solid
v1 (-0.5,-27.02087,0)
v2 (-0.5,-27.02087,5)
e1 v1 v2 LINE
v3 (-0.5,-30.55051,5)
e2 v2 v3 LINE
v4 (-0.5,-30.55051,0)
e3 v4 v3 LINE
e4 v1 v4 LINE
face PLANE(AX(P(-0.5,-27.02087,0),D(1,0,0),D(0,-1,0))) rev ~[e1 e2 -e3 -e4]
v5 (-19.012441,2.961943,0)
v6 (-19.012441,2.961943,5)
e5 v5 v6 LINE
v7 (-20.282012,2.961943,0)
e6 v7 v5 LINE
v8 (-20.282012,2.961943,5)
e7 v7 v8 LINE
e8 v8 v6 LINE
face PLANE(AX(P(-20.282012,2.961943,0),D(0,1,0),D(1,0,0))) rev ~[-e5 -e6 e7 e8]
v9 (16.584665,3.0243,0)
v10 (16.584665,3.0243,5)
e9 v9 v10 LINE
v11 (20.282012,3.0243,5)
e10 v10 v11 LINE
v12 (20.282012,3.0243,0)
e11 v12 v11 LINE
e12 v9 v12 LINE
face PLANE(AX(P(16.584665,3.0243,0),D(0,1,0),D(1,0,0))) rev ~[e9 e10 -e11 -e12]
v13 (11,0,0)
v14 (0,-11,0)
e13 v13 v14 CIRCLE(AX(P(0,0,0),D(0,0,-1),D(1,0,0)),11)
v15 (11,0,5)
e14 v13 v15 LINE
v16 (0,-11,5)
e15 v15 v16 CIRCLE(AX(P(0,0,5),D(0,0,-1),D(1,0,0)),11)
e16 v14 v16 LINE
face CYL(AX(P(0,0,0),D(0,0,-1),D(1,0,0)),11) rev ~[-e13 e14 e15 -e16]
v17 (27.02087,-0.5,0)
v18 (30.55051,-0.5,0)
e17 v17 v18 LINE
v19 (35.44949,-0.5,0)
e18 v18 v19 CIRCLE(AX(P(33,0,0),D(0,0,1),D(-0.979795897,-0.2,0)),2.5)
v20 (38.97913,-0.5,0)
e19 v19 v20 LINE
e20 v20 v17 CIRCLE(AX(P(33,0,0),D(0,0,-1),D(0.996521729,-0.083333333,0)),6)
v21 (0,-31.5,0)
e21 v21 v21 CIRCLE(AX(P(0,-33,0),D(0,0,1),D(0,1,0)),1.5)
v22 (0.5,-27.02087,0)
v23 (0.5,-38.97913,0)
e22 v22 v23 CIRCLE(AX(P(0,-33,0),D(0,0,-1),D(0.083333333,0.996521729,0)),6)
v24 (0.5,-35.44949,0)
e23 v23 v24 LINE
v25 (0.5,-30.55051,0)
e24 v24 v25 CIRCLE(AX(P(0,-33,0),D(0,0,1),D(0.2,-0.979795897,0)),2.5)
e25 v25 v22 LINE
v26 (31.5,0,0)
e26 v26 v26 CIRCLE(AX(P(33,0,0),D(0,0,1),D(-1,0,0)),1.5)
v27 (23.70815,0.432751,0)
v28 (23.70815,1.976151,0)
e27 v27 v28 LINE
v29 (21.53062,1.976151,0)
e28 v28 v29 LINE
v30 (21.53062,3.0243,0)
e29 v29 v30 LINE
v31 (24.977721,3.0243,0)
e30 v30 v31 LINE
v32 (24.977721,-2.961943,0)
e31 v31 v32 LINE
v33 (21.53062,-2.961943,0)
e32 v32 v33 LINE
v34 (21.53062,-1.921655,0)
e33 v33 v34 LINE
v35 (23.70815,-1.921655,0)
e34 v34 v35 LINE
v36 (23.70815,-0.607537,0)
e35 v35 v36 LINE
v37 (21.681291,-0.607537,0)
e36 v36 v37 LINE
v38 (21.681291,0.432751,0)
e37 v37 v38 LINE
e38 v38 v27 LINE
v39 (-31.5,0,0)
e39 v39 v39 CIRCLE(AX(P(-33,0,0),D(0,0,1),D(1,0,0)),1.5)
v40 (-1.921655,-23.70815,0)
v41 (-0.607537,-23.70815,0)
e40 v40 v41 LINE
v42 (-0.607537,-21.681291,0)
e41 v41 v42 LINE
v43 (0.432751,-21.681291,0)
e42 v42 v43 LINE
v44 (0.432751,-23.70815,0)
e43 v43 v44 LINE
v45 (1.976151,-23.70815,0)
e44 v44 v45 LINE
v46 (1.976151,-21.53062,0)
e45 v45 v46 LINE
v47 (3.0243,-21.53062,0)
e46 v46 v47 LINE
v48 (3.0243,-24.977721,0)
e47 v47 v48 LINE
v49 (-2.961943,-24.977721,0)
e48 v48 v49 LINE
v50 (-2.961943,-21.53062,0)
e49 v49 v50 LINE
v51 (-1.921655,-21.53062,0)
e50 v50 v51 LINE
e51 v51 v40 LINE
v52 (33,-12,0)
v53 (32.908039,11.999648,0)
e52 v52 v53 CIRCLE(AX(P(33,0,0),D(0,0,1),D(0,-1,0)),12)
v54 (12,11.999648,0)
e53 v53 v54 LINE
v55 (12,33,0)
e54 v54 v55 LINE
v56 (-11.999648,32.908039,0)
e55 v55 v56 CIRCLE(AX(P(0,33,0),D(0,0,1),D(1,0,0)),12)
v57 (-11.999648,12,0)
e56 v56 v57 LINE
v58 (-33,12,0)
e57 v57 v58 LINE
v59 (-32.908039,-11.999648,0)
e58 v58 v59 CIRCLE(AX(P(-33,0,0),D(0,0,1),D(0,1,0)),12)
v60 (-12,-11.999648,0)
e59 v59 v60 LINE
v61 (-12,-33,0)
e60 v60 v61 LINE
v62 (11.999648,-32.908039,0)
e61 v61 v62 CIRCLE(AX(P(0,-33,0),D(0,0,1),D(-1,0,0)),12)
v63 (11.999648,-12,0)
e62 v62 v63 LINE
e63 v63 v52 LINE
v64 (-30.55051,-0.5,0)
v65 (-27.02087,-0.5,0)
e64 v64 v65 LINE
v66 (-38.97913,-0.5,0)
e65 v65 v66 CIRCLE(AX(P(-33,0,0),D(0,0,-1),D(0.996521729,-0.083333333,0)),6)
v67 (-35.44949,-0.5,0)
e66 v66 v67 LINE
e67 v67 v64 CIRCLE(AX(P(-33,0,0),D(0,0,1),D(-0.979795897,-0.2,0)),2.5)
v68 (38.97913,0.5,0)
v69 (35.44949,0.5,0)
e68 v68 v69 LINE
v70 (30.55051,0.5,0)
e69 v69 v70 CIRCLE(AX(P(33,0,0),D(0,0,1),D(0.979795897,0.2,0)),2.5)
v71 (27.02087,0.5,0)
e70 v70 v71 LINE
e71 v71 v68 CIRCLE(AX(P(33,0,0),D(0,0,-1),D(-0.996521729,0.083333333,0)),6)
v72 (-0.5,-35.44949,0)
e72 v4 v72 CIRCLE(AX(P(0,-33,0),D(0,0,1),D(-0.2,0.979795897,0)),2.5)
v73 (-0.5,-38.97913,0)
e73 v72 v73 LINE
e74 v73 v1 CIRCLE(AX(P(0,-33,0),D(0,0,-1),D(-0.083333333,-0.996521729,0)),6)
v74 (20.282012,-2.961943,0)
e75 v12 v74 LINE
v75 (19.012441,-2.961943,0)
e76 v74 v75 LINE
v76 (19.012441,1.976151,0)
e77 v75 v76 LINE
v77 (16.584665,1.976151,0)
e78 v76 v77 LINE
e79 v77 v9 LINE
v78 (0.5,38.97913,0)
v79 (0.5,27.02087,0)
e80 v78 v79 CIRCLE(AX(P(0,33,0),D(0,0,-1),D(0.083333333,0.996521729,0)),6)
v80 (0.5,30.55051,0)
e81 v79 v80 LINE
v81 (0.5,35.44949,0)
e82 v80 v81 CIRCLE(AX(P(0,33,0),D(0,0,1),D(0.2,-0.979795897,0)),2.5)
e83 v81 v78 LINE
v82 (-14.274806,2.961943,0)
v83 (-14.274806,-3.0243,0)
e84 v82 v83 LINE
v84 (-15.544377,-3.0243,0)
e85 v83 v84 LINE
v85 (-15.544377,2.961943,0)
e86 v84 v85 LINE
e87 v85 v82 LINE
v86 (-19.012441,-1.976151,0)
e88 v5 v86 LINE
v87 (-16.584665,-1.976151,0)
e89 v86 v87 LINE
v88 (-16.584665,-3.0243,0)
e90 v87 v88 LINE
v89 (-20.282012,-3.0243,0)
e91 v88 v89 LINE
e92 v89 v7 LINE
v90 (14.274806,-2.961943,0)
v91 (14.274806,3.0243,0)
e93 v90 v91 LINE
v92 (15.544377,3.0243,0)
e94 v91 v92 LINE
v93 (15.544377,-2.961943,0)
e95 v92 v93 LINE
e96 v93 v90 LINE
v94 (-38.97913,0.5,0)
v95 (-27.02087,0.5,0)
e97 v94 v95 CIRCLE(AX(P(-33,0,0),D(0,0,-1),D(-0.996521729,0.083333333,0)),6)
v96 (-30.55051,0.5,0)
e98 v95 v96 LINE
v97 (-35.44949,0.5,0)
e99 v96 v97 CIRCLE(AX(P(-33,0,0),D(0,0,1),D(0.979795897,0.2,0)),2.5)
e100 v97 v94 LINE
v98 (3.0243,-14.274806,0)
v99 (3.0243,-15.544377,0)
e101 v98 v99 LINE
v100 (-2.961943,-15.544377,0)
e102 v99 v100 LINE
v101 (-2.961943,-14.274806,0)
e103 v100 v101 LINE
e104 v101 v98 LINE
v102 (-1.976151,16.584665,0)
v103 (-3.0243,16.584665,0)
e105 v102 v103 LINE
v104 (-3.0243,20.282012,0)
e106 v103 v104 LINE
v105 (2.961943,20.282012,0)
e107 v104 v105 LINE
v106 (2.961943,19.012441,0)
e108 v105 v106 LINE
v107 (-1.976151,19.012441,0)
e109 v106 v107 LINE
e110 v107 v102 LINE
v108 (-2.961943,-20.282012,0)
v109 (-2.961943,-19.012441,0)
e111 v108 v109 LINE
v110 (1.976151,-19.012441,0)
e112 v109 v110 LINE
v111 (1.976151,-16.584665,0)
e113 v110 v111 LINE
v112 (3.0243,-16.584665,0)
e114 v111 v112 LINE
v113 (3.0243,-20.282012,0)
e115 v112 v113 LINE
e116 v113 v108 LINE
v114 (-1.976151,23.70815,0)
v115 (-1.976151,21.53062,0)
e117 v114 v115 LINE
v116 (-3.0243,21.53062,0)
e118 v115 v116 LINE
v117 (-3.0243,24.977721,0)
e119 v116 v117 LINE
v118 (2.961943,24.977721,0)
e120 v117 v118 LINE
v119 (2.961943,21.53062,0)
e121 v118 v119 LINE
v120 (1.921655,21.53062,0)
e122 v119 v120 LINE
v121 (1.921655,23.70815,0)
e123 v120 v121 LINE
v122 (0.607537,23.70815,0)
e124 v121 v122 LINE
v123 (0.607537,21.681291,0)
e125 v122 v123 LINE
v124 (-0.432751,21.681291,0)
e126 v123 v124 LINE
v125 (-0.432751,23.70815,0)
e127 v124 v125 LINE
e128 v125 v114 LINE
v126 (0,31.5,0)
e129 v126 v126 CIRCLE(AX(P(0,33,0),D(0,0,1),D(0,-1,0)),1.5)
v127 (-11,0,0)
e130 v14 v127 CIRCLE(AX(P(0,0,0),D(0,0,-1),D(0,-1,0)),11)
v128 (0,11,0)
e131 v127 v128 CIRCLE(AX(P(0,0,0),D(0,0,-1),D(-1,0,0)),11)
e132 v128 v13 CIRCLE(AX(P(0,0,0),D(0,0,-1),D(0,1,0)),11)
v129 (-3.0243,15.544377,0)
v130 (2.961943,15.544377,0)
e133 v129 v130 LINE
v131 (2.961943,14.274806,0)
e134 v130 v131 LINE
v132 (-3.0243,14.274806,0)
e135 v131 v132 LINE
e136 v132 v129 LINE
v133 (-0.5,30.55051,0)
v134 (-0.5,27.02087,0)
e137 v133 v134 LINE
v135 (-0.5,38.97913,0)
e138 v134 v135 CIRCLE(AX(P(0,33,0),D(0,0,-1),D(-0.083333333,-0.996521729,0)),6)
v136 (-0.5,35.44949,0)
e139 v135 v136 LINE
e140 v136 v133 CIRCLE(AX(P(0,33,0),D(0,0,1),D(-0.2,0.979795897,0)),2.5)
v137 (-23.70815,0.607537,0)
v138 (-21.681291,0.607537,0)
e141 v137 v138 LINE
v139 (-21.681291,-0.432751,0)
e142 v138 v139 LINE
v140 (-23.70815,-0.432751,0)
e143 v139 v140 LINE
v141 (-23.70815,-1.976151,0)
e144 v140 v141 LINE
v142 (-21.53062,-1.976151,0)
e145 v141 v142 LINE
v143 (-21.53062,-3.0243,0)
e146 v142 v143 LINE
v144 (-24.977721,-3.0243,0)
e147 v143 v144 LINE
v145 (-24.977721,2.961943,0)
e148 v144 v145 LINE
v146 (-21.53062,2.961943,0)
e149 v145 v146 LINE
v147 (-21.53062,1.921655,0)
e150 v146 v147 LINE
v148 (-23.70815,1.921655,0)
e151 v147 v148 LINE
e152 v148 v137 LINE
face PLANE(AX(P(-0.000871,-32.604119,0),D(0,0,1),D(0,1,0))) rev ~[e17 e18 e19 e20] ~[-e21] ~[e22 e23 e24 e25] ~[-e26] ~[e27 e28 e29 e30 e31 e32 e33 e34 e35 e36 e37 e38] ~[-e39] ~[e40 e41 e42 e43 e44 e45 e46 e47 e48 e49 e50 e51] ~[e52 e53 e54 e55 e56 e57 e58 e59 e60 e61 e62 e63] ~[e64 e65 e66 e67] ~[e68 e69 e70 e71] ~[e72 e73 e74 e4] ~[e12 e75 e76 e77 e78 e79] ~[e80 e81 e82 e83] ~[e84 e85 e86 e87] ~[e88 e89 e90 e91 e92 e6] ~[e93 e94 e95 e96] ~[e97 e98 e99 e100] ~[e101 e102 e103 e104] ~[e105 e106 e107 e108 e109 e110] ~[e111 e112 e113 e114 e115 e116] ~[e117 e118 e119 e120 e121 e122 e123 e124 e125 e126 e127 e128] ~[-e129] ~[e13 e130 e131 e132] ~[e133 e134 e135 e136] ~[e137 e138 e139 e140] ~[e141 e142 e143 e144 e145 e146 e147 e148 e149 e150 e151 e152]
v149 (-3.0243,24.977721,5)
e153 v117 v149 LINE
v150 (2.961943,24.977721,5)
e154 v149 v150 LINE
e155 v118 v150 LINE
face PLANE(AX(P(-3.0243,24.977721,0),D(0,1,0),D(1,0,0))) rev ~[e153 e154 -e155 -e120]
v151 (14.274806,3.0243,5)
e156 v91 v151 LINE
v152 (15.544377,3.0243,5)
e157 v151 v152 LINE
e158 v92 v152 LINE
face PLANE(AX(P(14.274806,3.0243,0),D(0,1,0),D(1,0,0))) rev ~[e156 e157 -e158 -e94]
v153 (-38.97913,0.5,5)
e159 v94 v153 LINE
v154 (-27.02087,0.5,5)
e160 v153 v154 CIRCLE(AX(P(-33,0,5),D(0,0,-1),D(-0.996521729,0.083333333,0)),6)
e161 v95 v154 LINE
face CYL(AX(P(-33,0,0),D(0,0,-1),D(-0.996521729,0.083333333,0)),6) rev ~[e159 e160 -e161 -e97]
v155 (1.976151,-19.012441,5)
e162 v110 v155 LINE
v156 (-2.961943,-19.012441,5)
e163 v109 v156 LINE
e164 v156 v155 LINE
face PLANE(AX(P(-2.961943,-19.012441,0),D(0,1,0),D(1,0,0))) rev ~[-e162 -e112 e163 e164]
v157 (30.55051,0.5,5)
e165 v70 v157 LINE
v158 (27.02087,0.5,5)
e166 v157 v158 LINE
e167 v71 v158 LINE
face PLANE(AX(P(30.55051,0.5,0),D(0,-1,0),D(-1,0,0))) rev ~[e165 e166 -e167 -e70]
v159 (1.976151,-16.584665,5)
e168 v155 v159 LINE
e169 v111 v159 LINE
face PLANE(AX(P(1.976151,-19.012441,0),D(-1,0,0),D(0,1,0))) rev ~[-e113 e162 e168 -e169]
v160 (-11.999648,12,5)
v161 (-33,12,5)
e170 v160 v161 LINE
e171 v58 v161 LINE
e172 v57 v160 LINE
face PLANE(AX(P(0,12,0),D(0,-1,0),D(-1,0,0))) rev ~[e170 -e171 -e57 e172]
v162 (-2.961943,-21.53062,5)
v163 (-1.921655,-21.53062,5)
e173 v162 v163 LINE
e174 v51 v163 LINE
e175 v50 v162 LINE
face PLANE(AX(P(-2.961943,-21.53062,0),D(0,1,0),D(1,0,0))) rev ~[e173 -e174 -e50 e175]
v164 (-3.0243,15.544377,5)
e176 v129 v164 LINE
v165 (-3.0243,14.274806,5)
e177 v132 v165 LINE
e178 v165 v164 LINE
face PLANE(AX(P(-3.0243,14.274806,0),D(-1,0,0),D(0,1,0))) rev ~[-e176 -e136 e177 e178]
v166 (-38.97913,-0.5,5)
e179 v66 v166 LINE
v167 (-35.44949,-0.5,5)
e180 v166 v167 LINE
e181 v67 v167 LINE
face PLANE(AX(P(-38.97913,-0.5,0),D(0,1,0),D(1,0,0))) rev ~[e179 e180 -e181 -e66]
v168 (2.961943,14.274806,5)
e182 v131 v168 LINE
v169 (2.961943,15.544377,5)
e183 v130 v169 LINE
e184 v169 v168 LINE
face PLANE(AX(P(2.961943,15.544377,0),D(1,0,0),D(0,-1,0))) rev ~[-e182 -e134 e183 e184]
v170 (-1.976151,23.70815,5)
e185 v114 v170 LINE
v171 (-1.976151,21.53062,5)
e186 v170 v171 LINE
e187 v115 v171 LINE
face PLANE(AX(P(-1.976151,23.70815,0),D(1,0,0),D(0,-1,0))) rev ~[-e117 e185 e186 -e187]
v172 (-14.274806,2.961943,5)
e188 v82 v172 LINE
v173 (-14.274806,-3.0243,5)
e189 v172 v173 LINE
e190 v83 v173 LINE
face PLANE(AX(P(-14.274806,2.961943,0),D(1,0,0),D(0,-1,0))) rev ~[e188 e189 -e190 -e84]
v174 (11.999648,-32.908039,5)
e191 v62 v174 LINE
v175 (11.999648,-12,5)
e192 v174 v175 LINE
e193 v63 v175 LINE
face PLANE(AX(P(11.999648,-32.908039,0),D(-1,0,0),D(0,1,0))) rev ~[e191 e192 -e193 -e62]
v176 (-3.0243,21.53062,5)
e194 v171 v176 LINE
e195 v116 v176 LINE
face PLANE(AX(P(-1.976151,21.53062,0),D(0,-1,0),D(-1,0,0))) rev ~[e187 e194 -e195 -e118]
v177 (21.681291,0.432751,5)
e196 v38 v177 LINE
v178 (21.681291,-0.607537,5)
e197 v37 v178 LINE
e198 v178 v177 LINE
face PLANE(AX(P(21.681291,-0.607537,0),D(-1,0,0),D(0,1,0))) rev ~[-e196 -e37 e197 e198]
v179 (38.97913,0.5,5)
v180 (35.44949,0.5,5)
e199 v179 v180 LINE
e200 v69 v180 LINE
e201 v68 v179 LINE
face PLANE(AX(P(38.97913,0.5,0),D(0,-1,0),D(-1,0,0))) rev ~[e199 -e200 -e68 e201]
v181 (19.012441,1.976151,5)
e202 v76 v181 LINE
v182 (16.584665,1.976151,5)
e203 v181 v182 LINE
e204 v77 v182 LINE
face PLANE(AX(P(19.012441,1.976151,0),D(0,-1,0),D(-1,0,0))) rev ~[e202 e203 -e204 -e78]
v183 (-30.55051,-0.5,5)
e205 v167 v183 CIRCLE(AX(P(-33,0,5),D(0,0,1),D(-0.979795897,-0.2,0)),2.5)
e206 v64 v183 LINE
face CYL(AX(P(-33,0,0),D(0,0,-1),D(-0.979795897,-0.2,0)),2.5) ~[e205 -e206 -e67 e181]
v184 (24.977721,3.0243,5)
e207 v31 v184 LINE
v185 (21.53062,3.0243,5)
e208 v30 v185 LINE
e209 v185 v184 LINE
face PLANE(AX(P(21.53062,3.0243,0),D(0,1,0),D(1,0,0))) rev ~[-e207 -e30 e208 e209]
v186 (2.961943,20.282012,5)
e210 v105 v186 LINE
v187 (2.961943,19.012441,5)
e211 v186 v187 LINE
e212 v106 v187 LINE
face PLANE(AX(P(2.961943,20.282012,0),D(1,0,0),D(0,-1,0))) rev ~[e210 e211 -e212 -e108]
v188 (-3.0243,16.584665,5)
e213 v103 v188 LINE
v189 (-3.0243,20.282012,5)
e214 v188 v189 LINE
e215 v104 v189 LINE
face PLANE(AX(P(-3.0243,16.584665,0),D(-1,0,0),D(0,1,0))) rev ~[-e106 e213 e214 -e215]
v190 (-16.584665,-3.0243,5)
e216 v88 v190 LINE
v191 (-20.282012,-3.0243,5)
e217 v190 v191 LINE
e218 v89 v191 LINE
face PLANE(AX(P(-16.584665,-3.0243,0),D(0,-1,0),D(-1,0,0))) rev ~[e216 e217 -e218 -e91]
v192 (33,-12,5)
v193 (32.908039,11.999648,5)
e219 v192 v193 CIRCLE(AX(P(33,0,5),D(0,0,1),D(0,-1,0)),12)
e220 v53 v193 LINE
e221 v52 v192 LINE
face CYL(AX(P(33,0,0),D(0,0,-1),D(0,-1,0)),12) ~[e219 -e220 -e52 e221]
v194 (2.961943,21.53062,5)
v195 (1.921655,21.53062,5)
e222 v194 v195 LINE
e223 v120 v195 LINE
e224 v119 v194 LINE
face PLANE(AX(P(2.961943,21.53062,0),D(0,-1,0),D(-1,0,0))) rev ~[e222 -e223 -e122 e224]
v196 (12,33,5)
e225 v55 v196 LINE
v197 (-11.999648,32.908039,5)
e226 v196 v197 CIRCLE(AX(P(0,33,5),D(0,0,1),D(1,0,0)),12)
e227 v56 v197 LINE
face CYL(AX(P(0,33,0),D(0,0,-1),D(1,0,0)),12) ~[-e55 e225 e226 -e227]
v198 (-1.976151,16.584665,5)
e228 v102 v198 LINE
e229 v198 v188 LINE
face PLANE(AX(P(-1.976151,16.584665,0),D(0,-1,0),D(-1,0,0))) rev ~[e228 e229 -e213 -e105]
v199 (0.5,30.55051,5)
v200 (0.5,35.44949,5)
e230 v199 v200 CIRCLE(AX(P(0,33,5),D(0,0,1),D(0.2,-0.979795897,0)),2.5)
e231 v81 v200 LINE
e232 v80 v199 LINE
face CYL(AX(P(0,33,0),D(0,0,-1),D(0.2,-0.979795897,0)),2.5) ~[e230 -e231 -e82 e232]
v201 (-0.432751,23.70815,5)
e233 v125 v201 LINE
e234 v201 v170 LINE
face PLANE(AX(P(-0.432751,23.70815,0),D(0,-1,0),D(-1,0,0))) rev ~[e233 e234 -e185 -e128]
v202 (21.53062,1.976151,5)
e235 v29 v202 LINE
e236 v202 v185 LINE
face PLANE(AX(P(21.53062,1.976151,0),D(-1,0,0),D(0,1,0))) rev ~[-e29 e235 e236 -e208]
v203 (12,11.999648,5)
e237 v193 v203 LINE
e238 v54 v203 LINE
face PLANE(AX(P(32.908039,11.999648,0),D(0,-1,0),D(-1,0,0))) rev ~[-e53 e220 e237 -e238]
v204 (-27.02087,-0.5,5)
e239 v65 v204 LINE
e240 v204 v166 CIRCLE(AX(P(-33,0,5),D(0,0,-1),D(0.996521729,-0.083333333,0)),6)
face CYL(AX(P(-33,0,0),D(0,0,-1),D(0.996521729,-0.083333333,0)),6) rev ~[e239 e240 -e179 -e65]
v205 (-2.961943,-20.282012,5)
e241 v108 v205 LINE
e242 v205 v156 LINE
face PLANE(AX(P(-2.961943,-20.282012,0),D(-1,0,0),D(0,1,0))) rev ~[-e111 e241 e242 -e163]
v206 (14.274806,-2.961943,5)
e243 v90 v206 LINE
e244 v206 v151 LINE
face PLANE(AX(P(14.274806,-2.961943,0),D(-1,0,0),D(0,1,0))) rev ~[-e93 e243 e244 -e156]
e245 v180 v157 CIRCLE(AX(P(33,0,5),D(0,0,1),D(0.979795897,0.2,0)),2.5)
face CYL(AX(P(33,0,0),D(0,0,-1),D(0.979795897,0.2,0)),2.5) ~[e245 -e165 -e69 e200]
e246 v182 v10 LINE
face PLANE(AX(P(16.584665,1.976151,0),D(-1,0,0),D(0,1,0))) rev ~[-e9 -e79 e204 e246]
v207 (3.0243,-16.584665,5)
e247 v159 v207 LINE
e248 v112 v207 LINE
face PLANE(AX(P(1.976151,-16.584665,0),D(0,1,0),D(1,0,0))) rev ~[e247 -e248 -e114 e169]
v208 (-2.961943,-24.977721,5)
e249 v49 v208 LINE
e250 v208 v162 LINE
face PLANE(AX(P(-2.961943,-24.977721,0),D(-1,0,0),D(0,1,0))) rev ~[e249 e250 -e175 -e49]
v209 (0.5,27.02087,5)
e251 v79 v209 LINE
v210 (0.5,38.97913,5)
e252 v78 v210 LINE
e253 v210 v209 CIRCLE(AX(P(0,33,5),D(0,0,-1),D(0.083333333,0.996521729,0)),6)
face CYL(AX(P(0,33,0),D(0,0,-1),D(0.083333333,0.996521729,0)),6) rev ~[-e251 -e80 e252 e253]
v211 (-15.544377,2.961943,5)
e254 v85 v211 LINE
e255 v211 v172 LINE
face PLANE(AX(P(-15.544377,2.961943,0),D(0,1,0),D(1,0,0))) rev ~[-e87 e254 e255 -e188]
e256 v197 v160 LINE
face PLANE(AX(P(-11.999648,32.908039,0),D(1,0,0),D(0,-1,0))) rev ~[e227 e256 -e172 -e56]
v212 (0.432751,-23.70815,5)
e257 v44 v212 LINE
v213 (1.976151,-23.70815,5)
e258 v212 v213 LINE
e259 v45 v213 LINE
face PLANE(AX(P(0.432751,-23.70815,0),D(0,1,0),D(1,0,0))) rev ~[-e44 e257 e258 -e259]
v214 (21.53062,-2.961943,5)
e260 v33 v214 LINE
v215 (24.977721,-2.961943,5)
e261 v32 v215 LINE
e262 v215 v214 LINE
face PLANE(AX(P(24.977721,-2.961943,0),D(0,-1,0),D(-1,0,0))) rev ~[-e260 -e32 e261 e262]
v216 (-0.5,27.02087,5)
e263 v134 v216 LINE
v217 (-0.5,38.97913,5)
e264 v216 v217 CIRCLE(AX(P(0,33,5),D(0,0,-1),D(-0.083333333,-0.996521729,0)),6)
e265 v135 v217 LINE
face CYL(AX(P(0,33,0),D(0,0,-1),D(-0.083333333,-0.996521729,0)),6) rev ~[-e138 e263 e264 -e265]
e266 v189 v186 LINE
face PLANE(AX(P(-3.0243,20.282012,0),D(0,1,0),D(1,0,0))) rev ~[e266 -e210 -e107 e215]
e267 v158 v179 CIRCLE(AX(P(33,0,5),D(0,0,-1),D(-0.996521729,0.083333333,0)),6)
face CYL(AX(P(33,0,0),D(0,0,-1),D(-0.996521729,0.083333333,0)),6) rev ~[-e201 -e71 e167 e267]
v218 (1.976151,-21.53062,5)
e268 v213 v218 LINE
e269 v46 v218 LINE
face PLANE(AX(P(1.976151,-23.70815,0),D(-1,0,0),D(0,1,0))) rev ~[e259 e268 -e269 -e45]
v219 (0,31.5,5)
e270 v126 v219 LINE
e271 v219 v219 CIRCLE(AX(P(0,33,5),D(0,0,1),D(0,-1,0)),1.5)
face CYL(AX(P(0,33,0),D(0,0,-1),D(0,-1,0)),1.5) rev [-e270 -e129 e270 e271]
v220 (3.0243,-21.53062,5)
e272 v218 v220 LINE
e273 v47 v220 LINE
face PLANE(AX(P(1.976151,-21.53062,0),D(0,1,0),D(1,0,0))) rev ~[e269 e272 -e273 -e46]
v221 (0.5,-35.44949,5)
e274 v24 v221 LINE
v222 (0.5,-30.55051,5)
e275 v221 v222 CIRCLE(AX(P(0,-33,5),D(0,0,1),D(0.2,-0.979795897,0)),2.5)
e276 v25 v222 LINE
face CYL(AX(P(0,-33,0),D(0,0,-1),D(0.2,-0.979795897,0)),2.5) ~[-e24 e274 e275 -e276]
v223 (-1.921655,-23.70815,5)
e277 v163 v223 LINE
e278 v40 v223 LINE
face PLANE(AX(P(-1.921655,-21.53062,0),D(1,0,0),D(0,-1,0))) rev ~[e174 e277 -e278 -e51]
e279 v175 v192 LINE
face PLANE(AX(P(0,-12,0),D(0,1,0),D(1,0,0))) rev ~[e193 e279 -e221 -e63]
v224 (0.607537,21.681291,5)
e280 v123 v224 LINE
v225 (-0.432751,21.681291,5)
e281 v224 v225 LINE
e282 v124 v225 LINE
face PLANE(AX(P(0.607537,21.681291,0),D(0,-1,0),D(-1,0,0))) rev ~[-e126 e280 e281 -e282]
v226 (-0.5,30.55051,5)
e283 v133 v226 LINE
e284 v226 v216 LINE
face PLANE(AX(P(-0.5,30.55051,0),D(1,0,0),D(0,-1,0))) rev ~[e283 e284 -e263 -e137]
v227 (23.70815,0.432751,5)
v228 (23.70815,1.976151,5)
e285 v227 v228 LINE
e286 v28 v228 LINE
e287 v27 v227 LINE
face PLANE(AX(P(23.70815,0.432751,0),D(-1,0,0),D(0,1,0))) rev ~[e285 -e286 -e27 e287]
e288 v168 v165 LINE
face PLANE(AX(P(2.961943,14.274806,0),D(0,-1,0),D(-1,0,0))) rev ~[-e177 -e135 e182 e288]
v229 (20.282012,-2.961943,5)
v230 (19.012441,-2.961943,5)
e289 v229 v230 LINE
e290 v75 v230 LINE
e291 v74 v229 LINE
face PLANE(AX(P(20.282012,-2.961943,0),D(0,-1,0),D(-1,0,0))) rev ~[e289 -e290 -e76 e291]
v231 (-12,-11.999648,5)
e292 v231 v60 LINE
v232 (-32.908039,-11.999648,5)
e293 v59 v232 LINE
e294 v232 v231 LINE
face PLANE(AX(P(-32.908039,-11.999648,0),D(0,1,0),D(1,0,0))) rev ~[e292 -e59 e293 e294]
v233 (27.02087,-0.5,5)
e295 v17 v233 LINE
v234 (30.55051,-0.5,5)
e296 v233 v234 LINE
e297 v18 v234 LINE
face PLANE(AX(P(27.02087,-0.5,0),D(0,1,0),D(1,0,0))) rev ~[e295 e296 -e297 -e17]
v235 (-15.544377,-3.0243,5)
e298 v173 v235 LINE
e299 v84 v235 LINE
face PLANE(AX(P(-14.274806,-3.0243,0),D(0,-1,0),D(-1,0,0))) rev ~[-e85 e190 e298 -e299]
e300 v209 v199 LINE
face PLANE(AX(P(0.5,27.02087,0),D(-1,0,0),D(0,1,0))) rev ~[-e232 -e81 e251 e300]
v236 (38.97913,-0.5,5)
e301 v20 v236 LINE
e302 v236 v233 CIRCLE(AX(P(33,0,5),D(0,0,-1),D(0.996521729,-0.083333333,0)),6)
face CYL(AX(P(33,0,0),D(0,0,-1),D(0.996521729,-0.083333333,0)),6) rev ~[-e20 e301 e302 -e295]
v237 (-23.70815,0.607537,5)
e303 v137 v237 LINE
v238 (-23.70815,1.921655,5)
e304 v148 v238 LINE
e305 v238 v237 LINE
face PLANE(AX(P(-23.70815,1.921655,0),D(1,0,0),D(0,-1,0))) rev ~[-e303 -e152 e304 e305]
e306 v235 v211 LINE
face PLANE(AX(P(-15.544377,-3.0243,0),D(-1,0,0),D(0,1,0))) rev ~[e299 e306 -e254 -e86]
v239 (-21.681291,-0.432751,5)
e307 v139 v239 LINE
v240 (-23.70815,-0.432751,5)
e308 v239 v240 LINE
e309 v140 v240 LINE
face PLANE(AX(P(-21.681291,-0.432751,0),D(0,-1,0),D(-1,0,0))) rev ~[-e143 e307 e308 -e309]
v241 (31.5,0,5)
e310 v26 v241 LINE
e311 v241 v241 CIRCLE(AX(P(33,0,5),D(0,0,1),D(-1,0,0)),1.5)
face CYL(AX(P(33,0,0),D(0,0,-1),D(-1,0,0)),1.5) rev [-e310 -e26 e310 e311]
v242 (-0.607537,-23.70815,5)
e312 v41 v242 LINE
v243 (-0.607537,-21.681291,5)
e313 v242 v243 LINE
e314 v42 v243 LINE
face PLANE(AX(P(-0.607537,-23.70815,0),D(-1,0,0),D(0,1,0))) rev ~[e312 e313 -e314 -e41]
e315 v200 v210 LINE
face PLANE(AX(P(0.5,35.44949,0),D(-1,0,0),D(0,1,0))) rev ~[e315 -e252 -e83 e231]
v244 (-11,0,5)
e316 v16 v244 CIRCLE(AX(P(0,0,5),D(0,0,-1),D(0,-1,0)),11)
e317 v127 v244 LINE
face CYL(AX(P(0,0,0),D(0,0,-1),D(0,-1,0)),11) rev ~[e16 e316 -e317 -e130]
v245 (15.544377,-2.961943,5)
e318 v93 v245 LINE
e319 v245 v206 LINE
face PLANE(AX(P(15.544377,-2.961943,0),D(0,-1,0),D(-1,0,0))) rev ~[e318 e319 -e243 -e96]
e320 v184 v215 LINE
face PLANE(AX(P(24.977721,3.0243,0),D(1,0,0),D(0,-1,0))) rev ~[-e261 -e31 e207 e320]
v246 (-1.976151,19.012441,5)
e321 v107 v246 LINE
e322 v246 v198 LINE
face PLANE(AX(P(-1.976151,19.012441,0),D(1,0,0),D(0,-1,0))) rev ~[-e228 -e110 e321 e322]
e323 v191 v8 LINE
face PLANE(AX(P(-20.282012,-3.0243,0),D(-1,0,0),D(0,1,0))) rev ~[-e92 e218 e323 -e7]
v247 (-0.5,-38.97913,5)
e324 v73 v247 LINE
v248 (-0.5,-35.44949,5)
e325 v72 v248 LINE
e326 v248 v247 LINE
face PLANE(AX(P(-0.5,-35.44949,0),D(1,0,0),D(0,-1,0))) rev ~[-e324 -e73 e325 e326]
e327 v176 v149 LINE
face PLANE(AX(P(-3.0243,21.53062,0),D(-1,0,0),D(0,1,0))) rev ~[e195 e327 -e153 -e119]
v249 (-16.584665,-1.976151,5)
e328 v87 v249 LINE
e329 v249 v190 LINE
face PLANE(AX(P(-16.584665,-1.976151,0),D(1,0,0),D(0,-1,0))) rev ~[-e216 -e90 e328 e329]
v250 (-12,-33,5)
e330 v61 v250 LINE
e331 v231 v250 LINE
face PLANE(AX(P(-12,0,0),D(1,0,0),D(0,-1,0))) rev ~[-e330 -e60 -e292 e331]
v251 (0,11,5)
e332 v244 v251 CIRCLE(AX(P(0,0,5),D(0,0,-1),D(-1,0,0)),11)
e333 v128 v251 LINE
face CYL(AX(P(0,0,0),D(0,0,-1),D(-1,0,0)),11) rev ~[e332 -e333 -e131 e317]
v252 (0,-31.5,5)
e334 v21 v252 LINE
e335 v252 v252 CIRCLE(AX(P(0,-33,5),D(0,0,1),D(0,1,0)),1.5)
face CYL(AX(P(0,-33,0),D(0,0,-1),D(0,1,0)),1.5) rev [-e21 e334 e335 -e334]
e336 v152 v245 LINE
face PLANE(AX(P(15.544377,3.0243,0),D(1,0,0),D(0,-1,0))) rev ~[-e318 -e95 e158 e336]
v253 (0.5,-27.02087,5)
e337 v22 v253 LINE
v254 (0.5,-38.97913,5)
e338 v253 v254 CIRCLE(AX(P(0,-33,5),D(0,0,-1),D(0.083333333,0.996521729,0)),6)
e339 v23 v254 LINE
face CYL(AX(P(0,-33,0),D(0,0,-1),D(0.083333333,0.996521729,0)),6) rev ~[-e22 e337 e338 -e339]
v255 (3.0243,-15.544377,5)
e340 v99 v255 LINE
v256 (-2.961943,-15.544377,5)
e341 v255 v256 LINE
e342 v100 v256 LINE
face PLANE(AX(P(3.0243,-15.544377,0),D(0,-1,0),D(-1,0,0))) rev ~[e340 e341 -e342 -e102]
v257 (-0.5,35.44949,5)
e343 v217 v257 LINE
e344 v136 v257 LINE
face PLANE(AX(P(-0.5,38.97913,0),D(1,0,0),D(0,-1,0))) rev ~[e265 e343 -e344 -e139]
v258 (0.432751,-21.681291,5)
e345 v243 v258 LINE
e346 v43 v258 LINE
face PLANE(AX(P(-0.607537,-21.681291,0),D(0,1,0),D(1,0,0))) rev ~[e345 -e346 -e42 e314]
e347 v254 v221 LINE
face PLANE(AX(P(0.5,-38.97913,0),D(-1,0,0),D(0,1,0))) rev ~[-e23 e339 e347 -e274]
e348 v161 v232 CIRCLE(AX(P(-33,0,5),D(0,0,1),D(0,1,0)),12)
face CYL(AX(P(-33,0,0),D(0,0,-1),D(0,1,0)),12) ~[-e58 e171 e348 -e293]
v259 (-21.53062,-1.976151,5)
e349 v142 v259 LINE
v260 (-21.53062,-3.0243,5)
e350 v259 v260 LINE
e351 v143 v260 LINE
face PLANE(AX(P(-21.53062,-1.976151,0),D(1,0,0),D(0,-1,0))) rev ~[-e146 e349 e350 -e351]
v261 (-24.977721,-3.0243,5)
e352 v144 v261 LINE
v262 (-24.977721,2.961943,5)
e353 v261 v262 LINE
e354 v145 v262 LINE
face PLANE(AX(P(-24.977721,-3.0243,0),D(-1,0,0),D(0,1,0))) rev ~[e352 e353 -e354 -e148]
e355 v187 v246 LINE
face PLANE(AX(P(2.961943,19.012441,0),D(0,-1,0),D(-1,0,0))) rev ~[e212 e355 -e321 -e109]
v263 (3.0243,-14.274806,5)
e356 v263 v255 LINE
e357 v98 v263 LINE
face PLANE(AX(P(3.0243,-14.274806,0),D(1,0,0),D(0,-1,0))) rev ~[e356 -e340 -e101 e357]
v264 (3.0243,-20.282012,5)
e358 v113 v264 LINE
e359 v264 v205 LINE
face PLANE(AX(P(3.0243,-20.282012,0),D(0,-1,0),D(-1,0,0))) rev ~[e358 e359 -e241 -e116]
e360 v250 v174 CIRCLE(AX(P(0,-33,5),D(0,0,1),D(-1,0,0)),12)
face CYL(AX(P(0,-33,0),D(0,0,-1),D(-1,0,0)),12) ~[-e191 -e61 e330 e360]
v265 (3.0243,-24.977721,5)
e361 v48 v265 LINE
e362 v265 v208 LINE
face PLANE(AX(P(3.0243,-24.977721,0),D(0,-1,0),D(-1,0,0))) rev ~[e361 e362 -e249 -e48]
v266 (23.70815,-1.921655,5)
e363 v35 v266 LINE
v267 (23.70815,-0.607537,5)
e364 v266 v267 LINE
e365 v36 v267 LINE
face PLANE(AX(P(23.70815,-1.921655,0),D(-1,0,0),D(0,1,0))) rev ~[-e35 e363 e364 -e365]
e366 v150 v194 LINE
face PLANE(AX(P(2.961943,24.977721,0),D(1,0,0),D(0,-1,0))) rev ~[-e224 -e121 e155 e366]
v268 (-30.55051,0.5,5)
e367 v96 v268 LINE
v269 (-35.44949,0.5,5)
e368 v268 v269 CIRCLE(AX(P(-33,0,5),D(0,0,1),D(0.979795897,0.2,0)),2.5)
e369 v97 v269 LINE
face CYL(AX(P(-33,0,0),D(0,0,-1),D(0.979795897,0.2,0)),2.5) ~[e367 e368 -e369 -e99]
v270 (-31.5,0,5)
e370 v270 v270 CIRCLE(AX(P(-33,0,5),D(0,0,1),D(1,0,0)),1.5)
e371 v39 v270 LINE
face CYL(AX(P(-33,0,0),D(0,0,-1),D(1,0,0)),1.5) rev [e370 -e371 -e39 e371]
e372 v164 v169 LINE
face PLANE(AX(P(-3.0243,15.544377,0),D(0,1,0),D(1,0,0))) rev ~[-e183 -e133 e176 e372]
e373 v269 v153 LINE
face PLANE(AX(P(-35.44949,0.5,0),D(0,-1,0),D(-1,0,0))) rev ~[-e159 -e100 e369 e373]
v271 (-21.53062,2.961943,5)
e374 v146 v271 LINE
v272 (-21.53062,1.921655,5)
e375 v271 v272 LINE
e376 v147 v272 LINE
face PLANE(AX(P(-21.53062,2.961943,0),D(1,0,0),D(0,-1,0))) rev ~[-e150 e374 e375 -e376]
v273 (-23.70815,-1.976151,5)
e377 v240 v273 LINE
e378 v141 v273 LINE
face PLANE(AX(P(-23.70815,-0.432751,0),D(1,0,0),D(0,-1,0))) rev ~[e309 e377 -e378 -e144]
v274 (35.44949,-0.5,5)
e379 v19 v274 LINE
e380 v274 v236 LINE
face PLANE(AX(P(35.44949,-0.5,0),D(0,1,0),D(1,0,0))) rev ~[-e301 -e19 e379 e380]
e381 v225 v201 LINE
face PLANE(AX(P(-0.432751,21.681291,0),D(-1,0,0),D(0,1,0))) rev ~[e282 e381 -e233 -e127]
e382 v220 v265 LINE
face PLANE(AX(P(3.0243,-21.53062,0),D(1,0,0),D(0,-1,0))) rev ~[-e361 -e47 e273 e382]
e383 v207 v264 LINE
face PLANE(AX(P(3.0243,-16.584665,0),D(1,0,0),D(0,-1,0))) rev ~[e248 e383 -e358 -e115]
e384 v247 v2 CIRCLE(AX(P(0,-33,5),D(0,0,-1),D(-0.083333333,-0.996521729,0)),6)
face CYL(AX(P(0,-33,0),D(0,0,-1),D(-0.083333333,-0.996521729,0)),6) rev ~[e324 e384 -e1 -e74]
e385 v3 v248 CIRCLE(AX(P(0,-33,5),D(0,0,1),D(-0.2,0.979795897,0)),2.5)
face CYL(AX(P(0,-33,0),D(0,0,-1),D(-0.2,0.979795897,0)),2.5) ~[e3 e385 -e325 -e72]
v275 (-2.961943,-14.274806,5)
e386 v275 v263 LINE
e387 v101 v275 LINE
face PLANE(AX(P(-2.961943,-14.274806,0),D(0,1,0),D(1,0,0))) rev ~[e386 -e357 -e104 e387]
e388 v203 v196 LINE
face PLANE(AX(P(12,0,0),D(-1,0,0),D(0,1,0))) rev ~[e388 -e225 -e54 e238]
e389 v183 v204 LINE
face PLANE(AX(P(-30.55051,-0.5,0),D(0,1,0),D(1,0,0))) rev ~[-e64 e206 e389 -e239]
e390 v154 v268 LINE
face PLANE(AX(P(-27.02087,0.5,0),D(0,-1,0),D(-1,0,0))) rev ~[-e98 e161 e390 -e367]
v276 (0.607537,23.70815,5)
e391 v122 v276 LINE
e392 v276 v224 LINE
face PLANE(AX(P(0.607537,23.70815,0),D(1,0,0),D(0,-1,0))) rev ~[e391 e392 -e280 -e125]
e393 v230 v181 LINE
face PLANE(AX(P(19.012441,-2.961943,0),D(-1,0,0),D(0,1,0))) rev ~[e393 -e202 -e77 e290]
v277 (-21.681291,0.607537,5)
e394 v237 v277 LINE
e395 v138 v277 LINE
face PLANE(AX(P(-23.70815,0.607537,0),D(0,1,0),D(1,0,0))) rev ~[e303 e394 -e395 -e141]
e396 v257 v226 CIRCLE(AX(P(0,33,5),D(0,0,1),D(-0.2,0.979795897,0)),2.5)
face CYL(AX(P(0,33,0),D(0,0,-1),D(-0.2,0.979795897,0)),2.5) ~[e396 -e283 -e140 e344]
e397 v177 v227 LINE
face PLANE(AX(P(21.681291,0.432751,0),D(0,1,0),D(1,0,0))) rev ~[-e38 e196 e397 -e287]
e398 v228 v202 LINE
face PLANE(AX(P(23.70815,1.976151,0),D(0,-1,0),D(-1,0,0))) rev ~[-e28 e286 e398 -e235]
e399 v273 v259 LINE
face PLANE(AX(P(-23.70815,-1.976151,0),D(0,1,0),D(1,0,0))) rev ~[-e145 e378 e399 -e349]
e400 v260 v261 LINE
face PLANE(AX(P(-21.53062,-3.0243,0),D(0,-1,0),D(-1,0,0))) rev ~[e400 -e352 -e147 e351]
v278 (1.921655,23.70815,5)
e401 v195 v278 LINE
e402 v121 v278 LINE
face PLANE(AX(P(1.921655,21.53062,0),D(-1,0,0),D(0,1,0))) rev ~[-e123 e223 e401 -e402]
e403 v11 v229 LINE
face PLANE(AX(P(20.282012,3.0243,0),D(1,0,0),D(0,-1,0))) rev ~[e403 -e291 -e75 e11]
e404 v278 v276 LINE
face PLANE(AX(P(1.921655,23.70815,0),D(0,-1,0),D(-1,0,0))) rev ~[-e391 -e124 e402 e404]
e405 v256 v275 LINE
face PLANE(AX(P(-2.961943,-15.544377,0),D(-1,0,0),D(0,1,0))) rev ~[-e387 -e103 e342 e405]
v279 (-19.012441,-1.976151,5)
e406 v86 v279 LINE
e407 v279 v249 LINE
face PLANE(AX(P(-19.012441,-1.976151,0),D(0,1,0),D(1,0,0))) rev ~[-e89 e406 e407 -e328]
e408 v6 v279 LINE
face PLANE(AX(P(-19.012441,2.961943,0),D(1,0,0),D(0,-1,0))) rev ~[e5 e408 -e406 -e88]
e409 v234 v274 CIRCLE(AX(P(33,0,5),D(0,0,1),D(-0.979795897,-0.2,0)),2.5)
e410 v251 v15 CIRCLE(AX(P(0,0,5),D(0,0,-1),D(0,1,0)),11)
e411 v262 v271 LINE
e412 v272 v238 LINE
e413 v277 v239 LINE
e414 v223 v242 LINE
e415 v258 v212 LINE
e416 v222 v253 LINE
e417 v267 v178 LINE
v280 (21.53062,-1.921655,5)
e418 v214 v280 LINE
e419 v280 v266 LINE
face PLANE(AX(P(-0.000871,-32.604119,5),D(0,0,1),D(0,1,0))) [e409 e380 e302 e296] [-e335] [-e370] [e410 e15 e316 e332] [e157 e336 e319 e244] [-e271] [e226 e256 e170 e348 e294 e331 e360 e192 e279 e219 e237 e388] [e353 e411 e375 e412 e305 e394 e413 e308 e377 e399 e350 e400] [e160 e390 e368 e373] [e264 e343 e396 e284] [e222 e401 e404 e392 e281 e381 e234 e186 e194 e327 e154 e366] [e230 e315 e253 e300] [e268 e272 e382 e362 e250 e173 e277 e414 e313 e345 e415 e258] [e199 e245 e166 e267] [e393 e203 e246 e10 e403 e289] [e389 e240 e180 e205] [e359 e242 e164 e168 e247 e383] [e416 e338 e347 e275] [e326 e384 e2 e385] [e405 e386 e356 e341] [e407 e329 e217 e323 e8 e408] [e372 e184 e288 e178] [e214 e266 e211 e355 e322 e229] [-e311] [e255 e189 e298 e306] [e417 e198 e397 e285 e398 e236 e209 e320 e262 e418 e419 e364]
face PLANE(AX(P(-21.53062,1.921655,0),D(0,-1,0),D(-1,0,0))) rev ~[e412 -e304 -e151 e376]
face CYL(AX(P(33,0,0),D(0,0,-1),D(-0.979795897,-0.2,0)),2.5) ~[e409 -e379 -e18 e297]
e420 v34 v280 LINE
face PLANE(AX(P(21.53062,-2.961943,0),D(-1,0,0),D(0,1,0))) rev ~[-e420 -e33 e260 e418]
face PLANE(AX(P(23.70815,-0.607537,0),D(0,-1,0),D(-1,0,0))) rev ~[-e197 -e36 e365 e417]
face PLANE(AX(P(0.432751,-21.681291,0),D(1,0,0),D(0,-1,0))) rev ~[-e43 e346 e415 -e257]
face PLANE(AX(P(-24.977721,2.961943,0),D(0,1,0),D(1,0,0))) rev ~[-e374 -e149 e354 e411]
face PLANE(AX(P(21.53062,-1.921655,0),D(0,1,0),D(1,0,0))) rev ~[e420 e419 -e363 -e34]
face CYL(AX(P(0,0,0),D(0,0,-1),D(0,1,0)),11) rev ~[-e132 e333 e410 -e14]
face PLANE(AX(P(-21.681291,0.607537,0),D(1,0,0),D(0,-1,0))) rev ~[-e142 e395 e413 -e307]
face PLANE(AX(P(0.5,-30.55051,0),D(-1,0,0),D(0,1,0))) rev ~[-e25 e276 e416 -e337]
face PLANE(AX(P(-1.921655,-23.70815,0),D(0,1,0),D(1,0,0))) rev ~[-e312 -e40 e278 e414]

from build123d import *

# Parameters (mm, degrees)
F0_R     = 1.5
F1_DEPTH = 5
F2_COUNT = 4


with BuildPart() as f1:
    # F0 (on Top) → F1 (new body)
    with BuildSketch(Plane.XY):
        with BuildLine():
            ThreePointArc((-21, 0), (-24.5147186258, 8.4852813742), (-33, 12))
            ThreePointArc((-33, 12), (-44.9999119071, -0.0459806707), (-32.9080393338, -11.9996476297))
            ThreePointArc((-32.9080393338, -11.9996476297), (-24.4822676728, -8.4527058391), (-21, 0))
        make_face()
        Polygon((-21.6812912544, 0.6075373587), (-21.6812912544, 0), (-21.6812912544, -0.4327508824), (-23.7081500818, -0.4327508824), (-23.7081500818, -1.9761508169), (-21.5306197837, -1.9761508169), (-21.5306197837, -3.0243001782), (-24.9777209956, -3.0243001782), (-24.9777209956, 0), (-24.9777209956, 2.9619428615), (-21.5306197837, 2.9619428615), (-21.5306197837, 1.9216546204), (-23.7081500818, 1.9216546204), (-23.7081500818, 0.6075373587), align=None, mode=Mode.SUBTRACT)
        with BuildLine():
            ThreePointArc((-27.0208696284, 0.5), (-27.0052196775, 0.2502176759), (-27, 0))
            ThreePointArc((-27, 0), (-27.0052196775, -0.2502176759), (-27.0208696284, -0.5))
            ThreePointArc((-27.0208696284, -0.5), (-33, -6), (-38.9791303716, -0.5))
            ThreePointArc((-38.9791303716, -0.5), (-39, 0), (-38.9791303716, 0.5))
            ThreePointArc((-38.9791303716, 0.5), (-33, 6), (-27.0208696284, 0.5))
        make_face(mode=Mode.SUBTRACT)
        with BuildLine():
            ThreePointArc((-11, 0), (-7.7781745931, 7.7781745931), (0, 11))
            Line((0, 11), (0, 12))
            Line((0, 12), (-33, 12))
            ThreePointArc((-33, 12), (-24.5147186258, 8.4852813742), (-21, 0))
            Line((-21, 0), (-20.2820118571, 0))
            Line((-20.2820118571, 0), (-20.2820118571, 2.9619428615))
            Line((-20.2820118571, 2.9619428615), (-19.0124409432, 2.9619428615))
            Line((-19.0124409432, 2.9619428615), (-19.0124409432, 0))
            Line((-19.0124409432, 0), (-15.5443767441, 0))
            Line((-15.5443767441, 0), (-15.5443767441, 2.9619428615))
            Line((-15.5443767441, 2.9619428615), (-14.2748058302, 2.9619428615))
            Line((-14.2748058302, 2.9619428615), (-14.2748058302, 0))
            Line((-14.2748058302, 0), (-11, 0))
        make_face()
        with BuildLine():
            Line((0, -11.9996476297), (0, -11))
            ThreePointArc((0, -11), (-7.7781745931, -7.7781745931), (-11, 0))
            Line((-11, 0), (-14.2748058302, 0))
            Line((-14.2748058302, 0), (-14.2748058302, -3.0243001782))
            Line((-14.2748058302, -3.0243001782), (-15.5443767441, -3.0243001782))
            Line((-15.5443767441, -3.0243001782), (-15.5443767441, 0))
            Line((-15.5443767441, 0), (-19.0124409432, 0))
            Line((-19.0124409432, 0), (-19.0124409432, -1.9761508169))
            Line((-19.0124409432, -1.9761508169), (-16.5846649851, -1.9761508169))
            Line((-16.5846649851, -1.9761508169), (-16.5846649851, -3.0243001782))
            Line((-16.5846649851, -3.0243001782), (-20.2820118571, -3.0243001782))
            Line((-20.2820118571, -3.0243001782), (-20.2820118571, 0))
            Line((-20.2820118571, 0), (-21, 0))
            ThreePointArc((-21, 0), (-24.4822676728, -8.4527058391), (-32.9080393338, -11.9996476297))
            Line((-32.9080393338, -11.9996476297), (0, -11.9996476297))
        make_face()
        with BuildLine():
            ThreePointArc((-30.5505102572, -0.5), (-30.5126596175, -0.251272405), (-30.5, 0))
            ThreePointArc((-30.5, 0), (-30.5126596175, 0.251272405), (-30.5505102572, 0.5))
            ThreePointArc((-30.5505102572, 0.5), (-33, 2.5), (-35.4494897428, 0.5))
            ThreePointArc((-35.4494897428, 0.5), (-35.5, 0), (-35.4494897428, -0.5))
            ThreePointArc((-35.4494897428, -0.5), (-33, -2.5), (-30.5505102572, -0.5))
        make_face()
        with Locations((-33, 0)):
            Circle(F0_R, mode=Mode.SUBTRACT)
        with BuildLine():
            Line((-35.4494897428, 0.5), (-38.9791303716, 0.5))
            ThreePointArc((-38.9791303716, 0.5), (-39, 0), (-38.9791303716, -0.5))
            Line((-38.9791303716, -0.5), (-35.4494897428, -0.5))
            ThreePointArc((-35.4494897428, -0.5), (-35.5, 0), (-35.4494897428, 0.5))
        make_face()
        with BuildLine():
            ThreePointArc((-27.0208696284, -0.5), (-27.0052196775, -0.2502176759), (-27, 0))
            Line((-27, 0), (-30.5, 0))
            ThreePointArc((-30.5, 0), (-30.5126596175, -0.251272405), (-30.5505102572, -0.5))
            Line((-30.5505102572, -0.5), (-27.0208696284, -0.5))
        make_face()
        with BuildLine():
            Line((-30.5, 0), (-27, 0))
            ThreePointArc((-27, 0), (-27.0052196775, 0.2502176759), (-27.0208696284, 0.5))
            Line((-27.0208696284, 0.5), (-30.5505102572, 0.5))
            ThreePointArc((-30.5505102572, 0.5), (-30.5126596175, 0.251272405), (-30.5, 0))
        make_face()
    extrude(amount=F1_DEPTH)

    # F2: F1 ×4 about axis
    f2_axis = Axis((0, 0, 5), (0, 0, -1))


with BuildPart() as f1_1:
    add(f1.part)
    for i in range(1, F2_COUNT):
        add(f1.part.rotate(f2_axis, i * 360 / F2_COUNT))


solid = f1_1.part
